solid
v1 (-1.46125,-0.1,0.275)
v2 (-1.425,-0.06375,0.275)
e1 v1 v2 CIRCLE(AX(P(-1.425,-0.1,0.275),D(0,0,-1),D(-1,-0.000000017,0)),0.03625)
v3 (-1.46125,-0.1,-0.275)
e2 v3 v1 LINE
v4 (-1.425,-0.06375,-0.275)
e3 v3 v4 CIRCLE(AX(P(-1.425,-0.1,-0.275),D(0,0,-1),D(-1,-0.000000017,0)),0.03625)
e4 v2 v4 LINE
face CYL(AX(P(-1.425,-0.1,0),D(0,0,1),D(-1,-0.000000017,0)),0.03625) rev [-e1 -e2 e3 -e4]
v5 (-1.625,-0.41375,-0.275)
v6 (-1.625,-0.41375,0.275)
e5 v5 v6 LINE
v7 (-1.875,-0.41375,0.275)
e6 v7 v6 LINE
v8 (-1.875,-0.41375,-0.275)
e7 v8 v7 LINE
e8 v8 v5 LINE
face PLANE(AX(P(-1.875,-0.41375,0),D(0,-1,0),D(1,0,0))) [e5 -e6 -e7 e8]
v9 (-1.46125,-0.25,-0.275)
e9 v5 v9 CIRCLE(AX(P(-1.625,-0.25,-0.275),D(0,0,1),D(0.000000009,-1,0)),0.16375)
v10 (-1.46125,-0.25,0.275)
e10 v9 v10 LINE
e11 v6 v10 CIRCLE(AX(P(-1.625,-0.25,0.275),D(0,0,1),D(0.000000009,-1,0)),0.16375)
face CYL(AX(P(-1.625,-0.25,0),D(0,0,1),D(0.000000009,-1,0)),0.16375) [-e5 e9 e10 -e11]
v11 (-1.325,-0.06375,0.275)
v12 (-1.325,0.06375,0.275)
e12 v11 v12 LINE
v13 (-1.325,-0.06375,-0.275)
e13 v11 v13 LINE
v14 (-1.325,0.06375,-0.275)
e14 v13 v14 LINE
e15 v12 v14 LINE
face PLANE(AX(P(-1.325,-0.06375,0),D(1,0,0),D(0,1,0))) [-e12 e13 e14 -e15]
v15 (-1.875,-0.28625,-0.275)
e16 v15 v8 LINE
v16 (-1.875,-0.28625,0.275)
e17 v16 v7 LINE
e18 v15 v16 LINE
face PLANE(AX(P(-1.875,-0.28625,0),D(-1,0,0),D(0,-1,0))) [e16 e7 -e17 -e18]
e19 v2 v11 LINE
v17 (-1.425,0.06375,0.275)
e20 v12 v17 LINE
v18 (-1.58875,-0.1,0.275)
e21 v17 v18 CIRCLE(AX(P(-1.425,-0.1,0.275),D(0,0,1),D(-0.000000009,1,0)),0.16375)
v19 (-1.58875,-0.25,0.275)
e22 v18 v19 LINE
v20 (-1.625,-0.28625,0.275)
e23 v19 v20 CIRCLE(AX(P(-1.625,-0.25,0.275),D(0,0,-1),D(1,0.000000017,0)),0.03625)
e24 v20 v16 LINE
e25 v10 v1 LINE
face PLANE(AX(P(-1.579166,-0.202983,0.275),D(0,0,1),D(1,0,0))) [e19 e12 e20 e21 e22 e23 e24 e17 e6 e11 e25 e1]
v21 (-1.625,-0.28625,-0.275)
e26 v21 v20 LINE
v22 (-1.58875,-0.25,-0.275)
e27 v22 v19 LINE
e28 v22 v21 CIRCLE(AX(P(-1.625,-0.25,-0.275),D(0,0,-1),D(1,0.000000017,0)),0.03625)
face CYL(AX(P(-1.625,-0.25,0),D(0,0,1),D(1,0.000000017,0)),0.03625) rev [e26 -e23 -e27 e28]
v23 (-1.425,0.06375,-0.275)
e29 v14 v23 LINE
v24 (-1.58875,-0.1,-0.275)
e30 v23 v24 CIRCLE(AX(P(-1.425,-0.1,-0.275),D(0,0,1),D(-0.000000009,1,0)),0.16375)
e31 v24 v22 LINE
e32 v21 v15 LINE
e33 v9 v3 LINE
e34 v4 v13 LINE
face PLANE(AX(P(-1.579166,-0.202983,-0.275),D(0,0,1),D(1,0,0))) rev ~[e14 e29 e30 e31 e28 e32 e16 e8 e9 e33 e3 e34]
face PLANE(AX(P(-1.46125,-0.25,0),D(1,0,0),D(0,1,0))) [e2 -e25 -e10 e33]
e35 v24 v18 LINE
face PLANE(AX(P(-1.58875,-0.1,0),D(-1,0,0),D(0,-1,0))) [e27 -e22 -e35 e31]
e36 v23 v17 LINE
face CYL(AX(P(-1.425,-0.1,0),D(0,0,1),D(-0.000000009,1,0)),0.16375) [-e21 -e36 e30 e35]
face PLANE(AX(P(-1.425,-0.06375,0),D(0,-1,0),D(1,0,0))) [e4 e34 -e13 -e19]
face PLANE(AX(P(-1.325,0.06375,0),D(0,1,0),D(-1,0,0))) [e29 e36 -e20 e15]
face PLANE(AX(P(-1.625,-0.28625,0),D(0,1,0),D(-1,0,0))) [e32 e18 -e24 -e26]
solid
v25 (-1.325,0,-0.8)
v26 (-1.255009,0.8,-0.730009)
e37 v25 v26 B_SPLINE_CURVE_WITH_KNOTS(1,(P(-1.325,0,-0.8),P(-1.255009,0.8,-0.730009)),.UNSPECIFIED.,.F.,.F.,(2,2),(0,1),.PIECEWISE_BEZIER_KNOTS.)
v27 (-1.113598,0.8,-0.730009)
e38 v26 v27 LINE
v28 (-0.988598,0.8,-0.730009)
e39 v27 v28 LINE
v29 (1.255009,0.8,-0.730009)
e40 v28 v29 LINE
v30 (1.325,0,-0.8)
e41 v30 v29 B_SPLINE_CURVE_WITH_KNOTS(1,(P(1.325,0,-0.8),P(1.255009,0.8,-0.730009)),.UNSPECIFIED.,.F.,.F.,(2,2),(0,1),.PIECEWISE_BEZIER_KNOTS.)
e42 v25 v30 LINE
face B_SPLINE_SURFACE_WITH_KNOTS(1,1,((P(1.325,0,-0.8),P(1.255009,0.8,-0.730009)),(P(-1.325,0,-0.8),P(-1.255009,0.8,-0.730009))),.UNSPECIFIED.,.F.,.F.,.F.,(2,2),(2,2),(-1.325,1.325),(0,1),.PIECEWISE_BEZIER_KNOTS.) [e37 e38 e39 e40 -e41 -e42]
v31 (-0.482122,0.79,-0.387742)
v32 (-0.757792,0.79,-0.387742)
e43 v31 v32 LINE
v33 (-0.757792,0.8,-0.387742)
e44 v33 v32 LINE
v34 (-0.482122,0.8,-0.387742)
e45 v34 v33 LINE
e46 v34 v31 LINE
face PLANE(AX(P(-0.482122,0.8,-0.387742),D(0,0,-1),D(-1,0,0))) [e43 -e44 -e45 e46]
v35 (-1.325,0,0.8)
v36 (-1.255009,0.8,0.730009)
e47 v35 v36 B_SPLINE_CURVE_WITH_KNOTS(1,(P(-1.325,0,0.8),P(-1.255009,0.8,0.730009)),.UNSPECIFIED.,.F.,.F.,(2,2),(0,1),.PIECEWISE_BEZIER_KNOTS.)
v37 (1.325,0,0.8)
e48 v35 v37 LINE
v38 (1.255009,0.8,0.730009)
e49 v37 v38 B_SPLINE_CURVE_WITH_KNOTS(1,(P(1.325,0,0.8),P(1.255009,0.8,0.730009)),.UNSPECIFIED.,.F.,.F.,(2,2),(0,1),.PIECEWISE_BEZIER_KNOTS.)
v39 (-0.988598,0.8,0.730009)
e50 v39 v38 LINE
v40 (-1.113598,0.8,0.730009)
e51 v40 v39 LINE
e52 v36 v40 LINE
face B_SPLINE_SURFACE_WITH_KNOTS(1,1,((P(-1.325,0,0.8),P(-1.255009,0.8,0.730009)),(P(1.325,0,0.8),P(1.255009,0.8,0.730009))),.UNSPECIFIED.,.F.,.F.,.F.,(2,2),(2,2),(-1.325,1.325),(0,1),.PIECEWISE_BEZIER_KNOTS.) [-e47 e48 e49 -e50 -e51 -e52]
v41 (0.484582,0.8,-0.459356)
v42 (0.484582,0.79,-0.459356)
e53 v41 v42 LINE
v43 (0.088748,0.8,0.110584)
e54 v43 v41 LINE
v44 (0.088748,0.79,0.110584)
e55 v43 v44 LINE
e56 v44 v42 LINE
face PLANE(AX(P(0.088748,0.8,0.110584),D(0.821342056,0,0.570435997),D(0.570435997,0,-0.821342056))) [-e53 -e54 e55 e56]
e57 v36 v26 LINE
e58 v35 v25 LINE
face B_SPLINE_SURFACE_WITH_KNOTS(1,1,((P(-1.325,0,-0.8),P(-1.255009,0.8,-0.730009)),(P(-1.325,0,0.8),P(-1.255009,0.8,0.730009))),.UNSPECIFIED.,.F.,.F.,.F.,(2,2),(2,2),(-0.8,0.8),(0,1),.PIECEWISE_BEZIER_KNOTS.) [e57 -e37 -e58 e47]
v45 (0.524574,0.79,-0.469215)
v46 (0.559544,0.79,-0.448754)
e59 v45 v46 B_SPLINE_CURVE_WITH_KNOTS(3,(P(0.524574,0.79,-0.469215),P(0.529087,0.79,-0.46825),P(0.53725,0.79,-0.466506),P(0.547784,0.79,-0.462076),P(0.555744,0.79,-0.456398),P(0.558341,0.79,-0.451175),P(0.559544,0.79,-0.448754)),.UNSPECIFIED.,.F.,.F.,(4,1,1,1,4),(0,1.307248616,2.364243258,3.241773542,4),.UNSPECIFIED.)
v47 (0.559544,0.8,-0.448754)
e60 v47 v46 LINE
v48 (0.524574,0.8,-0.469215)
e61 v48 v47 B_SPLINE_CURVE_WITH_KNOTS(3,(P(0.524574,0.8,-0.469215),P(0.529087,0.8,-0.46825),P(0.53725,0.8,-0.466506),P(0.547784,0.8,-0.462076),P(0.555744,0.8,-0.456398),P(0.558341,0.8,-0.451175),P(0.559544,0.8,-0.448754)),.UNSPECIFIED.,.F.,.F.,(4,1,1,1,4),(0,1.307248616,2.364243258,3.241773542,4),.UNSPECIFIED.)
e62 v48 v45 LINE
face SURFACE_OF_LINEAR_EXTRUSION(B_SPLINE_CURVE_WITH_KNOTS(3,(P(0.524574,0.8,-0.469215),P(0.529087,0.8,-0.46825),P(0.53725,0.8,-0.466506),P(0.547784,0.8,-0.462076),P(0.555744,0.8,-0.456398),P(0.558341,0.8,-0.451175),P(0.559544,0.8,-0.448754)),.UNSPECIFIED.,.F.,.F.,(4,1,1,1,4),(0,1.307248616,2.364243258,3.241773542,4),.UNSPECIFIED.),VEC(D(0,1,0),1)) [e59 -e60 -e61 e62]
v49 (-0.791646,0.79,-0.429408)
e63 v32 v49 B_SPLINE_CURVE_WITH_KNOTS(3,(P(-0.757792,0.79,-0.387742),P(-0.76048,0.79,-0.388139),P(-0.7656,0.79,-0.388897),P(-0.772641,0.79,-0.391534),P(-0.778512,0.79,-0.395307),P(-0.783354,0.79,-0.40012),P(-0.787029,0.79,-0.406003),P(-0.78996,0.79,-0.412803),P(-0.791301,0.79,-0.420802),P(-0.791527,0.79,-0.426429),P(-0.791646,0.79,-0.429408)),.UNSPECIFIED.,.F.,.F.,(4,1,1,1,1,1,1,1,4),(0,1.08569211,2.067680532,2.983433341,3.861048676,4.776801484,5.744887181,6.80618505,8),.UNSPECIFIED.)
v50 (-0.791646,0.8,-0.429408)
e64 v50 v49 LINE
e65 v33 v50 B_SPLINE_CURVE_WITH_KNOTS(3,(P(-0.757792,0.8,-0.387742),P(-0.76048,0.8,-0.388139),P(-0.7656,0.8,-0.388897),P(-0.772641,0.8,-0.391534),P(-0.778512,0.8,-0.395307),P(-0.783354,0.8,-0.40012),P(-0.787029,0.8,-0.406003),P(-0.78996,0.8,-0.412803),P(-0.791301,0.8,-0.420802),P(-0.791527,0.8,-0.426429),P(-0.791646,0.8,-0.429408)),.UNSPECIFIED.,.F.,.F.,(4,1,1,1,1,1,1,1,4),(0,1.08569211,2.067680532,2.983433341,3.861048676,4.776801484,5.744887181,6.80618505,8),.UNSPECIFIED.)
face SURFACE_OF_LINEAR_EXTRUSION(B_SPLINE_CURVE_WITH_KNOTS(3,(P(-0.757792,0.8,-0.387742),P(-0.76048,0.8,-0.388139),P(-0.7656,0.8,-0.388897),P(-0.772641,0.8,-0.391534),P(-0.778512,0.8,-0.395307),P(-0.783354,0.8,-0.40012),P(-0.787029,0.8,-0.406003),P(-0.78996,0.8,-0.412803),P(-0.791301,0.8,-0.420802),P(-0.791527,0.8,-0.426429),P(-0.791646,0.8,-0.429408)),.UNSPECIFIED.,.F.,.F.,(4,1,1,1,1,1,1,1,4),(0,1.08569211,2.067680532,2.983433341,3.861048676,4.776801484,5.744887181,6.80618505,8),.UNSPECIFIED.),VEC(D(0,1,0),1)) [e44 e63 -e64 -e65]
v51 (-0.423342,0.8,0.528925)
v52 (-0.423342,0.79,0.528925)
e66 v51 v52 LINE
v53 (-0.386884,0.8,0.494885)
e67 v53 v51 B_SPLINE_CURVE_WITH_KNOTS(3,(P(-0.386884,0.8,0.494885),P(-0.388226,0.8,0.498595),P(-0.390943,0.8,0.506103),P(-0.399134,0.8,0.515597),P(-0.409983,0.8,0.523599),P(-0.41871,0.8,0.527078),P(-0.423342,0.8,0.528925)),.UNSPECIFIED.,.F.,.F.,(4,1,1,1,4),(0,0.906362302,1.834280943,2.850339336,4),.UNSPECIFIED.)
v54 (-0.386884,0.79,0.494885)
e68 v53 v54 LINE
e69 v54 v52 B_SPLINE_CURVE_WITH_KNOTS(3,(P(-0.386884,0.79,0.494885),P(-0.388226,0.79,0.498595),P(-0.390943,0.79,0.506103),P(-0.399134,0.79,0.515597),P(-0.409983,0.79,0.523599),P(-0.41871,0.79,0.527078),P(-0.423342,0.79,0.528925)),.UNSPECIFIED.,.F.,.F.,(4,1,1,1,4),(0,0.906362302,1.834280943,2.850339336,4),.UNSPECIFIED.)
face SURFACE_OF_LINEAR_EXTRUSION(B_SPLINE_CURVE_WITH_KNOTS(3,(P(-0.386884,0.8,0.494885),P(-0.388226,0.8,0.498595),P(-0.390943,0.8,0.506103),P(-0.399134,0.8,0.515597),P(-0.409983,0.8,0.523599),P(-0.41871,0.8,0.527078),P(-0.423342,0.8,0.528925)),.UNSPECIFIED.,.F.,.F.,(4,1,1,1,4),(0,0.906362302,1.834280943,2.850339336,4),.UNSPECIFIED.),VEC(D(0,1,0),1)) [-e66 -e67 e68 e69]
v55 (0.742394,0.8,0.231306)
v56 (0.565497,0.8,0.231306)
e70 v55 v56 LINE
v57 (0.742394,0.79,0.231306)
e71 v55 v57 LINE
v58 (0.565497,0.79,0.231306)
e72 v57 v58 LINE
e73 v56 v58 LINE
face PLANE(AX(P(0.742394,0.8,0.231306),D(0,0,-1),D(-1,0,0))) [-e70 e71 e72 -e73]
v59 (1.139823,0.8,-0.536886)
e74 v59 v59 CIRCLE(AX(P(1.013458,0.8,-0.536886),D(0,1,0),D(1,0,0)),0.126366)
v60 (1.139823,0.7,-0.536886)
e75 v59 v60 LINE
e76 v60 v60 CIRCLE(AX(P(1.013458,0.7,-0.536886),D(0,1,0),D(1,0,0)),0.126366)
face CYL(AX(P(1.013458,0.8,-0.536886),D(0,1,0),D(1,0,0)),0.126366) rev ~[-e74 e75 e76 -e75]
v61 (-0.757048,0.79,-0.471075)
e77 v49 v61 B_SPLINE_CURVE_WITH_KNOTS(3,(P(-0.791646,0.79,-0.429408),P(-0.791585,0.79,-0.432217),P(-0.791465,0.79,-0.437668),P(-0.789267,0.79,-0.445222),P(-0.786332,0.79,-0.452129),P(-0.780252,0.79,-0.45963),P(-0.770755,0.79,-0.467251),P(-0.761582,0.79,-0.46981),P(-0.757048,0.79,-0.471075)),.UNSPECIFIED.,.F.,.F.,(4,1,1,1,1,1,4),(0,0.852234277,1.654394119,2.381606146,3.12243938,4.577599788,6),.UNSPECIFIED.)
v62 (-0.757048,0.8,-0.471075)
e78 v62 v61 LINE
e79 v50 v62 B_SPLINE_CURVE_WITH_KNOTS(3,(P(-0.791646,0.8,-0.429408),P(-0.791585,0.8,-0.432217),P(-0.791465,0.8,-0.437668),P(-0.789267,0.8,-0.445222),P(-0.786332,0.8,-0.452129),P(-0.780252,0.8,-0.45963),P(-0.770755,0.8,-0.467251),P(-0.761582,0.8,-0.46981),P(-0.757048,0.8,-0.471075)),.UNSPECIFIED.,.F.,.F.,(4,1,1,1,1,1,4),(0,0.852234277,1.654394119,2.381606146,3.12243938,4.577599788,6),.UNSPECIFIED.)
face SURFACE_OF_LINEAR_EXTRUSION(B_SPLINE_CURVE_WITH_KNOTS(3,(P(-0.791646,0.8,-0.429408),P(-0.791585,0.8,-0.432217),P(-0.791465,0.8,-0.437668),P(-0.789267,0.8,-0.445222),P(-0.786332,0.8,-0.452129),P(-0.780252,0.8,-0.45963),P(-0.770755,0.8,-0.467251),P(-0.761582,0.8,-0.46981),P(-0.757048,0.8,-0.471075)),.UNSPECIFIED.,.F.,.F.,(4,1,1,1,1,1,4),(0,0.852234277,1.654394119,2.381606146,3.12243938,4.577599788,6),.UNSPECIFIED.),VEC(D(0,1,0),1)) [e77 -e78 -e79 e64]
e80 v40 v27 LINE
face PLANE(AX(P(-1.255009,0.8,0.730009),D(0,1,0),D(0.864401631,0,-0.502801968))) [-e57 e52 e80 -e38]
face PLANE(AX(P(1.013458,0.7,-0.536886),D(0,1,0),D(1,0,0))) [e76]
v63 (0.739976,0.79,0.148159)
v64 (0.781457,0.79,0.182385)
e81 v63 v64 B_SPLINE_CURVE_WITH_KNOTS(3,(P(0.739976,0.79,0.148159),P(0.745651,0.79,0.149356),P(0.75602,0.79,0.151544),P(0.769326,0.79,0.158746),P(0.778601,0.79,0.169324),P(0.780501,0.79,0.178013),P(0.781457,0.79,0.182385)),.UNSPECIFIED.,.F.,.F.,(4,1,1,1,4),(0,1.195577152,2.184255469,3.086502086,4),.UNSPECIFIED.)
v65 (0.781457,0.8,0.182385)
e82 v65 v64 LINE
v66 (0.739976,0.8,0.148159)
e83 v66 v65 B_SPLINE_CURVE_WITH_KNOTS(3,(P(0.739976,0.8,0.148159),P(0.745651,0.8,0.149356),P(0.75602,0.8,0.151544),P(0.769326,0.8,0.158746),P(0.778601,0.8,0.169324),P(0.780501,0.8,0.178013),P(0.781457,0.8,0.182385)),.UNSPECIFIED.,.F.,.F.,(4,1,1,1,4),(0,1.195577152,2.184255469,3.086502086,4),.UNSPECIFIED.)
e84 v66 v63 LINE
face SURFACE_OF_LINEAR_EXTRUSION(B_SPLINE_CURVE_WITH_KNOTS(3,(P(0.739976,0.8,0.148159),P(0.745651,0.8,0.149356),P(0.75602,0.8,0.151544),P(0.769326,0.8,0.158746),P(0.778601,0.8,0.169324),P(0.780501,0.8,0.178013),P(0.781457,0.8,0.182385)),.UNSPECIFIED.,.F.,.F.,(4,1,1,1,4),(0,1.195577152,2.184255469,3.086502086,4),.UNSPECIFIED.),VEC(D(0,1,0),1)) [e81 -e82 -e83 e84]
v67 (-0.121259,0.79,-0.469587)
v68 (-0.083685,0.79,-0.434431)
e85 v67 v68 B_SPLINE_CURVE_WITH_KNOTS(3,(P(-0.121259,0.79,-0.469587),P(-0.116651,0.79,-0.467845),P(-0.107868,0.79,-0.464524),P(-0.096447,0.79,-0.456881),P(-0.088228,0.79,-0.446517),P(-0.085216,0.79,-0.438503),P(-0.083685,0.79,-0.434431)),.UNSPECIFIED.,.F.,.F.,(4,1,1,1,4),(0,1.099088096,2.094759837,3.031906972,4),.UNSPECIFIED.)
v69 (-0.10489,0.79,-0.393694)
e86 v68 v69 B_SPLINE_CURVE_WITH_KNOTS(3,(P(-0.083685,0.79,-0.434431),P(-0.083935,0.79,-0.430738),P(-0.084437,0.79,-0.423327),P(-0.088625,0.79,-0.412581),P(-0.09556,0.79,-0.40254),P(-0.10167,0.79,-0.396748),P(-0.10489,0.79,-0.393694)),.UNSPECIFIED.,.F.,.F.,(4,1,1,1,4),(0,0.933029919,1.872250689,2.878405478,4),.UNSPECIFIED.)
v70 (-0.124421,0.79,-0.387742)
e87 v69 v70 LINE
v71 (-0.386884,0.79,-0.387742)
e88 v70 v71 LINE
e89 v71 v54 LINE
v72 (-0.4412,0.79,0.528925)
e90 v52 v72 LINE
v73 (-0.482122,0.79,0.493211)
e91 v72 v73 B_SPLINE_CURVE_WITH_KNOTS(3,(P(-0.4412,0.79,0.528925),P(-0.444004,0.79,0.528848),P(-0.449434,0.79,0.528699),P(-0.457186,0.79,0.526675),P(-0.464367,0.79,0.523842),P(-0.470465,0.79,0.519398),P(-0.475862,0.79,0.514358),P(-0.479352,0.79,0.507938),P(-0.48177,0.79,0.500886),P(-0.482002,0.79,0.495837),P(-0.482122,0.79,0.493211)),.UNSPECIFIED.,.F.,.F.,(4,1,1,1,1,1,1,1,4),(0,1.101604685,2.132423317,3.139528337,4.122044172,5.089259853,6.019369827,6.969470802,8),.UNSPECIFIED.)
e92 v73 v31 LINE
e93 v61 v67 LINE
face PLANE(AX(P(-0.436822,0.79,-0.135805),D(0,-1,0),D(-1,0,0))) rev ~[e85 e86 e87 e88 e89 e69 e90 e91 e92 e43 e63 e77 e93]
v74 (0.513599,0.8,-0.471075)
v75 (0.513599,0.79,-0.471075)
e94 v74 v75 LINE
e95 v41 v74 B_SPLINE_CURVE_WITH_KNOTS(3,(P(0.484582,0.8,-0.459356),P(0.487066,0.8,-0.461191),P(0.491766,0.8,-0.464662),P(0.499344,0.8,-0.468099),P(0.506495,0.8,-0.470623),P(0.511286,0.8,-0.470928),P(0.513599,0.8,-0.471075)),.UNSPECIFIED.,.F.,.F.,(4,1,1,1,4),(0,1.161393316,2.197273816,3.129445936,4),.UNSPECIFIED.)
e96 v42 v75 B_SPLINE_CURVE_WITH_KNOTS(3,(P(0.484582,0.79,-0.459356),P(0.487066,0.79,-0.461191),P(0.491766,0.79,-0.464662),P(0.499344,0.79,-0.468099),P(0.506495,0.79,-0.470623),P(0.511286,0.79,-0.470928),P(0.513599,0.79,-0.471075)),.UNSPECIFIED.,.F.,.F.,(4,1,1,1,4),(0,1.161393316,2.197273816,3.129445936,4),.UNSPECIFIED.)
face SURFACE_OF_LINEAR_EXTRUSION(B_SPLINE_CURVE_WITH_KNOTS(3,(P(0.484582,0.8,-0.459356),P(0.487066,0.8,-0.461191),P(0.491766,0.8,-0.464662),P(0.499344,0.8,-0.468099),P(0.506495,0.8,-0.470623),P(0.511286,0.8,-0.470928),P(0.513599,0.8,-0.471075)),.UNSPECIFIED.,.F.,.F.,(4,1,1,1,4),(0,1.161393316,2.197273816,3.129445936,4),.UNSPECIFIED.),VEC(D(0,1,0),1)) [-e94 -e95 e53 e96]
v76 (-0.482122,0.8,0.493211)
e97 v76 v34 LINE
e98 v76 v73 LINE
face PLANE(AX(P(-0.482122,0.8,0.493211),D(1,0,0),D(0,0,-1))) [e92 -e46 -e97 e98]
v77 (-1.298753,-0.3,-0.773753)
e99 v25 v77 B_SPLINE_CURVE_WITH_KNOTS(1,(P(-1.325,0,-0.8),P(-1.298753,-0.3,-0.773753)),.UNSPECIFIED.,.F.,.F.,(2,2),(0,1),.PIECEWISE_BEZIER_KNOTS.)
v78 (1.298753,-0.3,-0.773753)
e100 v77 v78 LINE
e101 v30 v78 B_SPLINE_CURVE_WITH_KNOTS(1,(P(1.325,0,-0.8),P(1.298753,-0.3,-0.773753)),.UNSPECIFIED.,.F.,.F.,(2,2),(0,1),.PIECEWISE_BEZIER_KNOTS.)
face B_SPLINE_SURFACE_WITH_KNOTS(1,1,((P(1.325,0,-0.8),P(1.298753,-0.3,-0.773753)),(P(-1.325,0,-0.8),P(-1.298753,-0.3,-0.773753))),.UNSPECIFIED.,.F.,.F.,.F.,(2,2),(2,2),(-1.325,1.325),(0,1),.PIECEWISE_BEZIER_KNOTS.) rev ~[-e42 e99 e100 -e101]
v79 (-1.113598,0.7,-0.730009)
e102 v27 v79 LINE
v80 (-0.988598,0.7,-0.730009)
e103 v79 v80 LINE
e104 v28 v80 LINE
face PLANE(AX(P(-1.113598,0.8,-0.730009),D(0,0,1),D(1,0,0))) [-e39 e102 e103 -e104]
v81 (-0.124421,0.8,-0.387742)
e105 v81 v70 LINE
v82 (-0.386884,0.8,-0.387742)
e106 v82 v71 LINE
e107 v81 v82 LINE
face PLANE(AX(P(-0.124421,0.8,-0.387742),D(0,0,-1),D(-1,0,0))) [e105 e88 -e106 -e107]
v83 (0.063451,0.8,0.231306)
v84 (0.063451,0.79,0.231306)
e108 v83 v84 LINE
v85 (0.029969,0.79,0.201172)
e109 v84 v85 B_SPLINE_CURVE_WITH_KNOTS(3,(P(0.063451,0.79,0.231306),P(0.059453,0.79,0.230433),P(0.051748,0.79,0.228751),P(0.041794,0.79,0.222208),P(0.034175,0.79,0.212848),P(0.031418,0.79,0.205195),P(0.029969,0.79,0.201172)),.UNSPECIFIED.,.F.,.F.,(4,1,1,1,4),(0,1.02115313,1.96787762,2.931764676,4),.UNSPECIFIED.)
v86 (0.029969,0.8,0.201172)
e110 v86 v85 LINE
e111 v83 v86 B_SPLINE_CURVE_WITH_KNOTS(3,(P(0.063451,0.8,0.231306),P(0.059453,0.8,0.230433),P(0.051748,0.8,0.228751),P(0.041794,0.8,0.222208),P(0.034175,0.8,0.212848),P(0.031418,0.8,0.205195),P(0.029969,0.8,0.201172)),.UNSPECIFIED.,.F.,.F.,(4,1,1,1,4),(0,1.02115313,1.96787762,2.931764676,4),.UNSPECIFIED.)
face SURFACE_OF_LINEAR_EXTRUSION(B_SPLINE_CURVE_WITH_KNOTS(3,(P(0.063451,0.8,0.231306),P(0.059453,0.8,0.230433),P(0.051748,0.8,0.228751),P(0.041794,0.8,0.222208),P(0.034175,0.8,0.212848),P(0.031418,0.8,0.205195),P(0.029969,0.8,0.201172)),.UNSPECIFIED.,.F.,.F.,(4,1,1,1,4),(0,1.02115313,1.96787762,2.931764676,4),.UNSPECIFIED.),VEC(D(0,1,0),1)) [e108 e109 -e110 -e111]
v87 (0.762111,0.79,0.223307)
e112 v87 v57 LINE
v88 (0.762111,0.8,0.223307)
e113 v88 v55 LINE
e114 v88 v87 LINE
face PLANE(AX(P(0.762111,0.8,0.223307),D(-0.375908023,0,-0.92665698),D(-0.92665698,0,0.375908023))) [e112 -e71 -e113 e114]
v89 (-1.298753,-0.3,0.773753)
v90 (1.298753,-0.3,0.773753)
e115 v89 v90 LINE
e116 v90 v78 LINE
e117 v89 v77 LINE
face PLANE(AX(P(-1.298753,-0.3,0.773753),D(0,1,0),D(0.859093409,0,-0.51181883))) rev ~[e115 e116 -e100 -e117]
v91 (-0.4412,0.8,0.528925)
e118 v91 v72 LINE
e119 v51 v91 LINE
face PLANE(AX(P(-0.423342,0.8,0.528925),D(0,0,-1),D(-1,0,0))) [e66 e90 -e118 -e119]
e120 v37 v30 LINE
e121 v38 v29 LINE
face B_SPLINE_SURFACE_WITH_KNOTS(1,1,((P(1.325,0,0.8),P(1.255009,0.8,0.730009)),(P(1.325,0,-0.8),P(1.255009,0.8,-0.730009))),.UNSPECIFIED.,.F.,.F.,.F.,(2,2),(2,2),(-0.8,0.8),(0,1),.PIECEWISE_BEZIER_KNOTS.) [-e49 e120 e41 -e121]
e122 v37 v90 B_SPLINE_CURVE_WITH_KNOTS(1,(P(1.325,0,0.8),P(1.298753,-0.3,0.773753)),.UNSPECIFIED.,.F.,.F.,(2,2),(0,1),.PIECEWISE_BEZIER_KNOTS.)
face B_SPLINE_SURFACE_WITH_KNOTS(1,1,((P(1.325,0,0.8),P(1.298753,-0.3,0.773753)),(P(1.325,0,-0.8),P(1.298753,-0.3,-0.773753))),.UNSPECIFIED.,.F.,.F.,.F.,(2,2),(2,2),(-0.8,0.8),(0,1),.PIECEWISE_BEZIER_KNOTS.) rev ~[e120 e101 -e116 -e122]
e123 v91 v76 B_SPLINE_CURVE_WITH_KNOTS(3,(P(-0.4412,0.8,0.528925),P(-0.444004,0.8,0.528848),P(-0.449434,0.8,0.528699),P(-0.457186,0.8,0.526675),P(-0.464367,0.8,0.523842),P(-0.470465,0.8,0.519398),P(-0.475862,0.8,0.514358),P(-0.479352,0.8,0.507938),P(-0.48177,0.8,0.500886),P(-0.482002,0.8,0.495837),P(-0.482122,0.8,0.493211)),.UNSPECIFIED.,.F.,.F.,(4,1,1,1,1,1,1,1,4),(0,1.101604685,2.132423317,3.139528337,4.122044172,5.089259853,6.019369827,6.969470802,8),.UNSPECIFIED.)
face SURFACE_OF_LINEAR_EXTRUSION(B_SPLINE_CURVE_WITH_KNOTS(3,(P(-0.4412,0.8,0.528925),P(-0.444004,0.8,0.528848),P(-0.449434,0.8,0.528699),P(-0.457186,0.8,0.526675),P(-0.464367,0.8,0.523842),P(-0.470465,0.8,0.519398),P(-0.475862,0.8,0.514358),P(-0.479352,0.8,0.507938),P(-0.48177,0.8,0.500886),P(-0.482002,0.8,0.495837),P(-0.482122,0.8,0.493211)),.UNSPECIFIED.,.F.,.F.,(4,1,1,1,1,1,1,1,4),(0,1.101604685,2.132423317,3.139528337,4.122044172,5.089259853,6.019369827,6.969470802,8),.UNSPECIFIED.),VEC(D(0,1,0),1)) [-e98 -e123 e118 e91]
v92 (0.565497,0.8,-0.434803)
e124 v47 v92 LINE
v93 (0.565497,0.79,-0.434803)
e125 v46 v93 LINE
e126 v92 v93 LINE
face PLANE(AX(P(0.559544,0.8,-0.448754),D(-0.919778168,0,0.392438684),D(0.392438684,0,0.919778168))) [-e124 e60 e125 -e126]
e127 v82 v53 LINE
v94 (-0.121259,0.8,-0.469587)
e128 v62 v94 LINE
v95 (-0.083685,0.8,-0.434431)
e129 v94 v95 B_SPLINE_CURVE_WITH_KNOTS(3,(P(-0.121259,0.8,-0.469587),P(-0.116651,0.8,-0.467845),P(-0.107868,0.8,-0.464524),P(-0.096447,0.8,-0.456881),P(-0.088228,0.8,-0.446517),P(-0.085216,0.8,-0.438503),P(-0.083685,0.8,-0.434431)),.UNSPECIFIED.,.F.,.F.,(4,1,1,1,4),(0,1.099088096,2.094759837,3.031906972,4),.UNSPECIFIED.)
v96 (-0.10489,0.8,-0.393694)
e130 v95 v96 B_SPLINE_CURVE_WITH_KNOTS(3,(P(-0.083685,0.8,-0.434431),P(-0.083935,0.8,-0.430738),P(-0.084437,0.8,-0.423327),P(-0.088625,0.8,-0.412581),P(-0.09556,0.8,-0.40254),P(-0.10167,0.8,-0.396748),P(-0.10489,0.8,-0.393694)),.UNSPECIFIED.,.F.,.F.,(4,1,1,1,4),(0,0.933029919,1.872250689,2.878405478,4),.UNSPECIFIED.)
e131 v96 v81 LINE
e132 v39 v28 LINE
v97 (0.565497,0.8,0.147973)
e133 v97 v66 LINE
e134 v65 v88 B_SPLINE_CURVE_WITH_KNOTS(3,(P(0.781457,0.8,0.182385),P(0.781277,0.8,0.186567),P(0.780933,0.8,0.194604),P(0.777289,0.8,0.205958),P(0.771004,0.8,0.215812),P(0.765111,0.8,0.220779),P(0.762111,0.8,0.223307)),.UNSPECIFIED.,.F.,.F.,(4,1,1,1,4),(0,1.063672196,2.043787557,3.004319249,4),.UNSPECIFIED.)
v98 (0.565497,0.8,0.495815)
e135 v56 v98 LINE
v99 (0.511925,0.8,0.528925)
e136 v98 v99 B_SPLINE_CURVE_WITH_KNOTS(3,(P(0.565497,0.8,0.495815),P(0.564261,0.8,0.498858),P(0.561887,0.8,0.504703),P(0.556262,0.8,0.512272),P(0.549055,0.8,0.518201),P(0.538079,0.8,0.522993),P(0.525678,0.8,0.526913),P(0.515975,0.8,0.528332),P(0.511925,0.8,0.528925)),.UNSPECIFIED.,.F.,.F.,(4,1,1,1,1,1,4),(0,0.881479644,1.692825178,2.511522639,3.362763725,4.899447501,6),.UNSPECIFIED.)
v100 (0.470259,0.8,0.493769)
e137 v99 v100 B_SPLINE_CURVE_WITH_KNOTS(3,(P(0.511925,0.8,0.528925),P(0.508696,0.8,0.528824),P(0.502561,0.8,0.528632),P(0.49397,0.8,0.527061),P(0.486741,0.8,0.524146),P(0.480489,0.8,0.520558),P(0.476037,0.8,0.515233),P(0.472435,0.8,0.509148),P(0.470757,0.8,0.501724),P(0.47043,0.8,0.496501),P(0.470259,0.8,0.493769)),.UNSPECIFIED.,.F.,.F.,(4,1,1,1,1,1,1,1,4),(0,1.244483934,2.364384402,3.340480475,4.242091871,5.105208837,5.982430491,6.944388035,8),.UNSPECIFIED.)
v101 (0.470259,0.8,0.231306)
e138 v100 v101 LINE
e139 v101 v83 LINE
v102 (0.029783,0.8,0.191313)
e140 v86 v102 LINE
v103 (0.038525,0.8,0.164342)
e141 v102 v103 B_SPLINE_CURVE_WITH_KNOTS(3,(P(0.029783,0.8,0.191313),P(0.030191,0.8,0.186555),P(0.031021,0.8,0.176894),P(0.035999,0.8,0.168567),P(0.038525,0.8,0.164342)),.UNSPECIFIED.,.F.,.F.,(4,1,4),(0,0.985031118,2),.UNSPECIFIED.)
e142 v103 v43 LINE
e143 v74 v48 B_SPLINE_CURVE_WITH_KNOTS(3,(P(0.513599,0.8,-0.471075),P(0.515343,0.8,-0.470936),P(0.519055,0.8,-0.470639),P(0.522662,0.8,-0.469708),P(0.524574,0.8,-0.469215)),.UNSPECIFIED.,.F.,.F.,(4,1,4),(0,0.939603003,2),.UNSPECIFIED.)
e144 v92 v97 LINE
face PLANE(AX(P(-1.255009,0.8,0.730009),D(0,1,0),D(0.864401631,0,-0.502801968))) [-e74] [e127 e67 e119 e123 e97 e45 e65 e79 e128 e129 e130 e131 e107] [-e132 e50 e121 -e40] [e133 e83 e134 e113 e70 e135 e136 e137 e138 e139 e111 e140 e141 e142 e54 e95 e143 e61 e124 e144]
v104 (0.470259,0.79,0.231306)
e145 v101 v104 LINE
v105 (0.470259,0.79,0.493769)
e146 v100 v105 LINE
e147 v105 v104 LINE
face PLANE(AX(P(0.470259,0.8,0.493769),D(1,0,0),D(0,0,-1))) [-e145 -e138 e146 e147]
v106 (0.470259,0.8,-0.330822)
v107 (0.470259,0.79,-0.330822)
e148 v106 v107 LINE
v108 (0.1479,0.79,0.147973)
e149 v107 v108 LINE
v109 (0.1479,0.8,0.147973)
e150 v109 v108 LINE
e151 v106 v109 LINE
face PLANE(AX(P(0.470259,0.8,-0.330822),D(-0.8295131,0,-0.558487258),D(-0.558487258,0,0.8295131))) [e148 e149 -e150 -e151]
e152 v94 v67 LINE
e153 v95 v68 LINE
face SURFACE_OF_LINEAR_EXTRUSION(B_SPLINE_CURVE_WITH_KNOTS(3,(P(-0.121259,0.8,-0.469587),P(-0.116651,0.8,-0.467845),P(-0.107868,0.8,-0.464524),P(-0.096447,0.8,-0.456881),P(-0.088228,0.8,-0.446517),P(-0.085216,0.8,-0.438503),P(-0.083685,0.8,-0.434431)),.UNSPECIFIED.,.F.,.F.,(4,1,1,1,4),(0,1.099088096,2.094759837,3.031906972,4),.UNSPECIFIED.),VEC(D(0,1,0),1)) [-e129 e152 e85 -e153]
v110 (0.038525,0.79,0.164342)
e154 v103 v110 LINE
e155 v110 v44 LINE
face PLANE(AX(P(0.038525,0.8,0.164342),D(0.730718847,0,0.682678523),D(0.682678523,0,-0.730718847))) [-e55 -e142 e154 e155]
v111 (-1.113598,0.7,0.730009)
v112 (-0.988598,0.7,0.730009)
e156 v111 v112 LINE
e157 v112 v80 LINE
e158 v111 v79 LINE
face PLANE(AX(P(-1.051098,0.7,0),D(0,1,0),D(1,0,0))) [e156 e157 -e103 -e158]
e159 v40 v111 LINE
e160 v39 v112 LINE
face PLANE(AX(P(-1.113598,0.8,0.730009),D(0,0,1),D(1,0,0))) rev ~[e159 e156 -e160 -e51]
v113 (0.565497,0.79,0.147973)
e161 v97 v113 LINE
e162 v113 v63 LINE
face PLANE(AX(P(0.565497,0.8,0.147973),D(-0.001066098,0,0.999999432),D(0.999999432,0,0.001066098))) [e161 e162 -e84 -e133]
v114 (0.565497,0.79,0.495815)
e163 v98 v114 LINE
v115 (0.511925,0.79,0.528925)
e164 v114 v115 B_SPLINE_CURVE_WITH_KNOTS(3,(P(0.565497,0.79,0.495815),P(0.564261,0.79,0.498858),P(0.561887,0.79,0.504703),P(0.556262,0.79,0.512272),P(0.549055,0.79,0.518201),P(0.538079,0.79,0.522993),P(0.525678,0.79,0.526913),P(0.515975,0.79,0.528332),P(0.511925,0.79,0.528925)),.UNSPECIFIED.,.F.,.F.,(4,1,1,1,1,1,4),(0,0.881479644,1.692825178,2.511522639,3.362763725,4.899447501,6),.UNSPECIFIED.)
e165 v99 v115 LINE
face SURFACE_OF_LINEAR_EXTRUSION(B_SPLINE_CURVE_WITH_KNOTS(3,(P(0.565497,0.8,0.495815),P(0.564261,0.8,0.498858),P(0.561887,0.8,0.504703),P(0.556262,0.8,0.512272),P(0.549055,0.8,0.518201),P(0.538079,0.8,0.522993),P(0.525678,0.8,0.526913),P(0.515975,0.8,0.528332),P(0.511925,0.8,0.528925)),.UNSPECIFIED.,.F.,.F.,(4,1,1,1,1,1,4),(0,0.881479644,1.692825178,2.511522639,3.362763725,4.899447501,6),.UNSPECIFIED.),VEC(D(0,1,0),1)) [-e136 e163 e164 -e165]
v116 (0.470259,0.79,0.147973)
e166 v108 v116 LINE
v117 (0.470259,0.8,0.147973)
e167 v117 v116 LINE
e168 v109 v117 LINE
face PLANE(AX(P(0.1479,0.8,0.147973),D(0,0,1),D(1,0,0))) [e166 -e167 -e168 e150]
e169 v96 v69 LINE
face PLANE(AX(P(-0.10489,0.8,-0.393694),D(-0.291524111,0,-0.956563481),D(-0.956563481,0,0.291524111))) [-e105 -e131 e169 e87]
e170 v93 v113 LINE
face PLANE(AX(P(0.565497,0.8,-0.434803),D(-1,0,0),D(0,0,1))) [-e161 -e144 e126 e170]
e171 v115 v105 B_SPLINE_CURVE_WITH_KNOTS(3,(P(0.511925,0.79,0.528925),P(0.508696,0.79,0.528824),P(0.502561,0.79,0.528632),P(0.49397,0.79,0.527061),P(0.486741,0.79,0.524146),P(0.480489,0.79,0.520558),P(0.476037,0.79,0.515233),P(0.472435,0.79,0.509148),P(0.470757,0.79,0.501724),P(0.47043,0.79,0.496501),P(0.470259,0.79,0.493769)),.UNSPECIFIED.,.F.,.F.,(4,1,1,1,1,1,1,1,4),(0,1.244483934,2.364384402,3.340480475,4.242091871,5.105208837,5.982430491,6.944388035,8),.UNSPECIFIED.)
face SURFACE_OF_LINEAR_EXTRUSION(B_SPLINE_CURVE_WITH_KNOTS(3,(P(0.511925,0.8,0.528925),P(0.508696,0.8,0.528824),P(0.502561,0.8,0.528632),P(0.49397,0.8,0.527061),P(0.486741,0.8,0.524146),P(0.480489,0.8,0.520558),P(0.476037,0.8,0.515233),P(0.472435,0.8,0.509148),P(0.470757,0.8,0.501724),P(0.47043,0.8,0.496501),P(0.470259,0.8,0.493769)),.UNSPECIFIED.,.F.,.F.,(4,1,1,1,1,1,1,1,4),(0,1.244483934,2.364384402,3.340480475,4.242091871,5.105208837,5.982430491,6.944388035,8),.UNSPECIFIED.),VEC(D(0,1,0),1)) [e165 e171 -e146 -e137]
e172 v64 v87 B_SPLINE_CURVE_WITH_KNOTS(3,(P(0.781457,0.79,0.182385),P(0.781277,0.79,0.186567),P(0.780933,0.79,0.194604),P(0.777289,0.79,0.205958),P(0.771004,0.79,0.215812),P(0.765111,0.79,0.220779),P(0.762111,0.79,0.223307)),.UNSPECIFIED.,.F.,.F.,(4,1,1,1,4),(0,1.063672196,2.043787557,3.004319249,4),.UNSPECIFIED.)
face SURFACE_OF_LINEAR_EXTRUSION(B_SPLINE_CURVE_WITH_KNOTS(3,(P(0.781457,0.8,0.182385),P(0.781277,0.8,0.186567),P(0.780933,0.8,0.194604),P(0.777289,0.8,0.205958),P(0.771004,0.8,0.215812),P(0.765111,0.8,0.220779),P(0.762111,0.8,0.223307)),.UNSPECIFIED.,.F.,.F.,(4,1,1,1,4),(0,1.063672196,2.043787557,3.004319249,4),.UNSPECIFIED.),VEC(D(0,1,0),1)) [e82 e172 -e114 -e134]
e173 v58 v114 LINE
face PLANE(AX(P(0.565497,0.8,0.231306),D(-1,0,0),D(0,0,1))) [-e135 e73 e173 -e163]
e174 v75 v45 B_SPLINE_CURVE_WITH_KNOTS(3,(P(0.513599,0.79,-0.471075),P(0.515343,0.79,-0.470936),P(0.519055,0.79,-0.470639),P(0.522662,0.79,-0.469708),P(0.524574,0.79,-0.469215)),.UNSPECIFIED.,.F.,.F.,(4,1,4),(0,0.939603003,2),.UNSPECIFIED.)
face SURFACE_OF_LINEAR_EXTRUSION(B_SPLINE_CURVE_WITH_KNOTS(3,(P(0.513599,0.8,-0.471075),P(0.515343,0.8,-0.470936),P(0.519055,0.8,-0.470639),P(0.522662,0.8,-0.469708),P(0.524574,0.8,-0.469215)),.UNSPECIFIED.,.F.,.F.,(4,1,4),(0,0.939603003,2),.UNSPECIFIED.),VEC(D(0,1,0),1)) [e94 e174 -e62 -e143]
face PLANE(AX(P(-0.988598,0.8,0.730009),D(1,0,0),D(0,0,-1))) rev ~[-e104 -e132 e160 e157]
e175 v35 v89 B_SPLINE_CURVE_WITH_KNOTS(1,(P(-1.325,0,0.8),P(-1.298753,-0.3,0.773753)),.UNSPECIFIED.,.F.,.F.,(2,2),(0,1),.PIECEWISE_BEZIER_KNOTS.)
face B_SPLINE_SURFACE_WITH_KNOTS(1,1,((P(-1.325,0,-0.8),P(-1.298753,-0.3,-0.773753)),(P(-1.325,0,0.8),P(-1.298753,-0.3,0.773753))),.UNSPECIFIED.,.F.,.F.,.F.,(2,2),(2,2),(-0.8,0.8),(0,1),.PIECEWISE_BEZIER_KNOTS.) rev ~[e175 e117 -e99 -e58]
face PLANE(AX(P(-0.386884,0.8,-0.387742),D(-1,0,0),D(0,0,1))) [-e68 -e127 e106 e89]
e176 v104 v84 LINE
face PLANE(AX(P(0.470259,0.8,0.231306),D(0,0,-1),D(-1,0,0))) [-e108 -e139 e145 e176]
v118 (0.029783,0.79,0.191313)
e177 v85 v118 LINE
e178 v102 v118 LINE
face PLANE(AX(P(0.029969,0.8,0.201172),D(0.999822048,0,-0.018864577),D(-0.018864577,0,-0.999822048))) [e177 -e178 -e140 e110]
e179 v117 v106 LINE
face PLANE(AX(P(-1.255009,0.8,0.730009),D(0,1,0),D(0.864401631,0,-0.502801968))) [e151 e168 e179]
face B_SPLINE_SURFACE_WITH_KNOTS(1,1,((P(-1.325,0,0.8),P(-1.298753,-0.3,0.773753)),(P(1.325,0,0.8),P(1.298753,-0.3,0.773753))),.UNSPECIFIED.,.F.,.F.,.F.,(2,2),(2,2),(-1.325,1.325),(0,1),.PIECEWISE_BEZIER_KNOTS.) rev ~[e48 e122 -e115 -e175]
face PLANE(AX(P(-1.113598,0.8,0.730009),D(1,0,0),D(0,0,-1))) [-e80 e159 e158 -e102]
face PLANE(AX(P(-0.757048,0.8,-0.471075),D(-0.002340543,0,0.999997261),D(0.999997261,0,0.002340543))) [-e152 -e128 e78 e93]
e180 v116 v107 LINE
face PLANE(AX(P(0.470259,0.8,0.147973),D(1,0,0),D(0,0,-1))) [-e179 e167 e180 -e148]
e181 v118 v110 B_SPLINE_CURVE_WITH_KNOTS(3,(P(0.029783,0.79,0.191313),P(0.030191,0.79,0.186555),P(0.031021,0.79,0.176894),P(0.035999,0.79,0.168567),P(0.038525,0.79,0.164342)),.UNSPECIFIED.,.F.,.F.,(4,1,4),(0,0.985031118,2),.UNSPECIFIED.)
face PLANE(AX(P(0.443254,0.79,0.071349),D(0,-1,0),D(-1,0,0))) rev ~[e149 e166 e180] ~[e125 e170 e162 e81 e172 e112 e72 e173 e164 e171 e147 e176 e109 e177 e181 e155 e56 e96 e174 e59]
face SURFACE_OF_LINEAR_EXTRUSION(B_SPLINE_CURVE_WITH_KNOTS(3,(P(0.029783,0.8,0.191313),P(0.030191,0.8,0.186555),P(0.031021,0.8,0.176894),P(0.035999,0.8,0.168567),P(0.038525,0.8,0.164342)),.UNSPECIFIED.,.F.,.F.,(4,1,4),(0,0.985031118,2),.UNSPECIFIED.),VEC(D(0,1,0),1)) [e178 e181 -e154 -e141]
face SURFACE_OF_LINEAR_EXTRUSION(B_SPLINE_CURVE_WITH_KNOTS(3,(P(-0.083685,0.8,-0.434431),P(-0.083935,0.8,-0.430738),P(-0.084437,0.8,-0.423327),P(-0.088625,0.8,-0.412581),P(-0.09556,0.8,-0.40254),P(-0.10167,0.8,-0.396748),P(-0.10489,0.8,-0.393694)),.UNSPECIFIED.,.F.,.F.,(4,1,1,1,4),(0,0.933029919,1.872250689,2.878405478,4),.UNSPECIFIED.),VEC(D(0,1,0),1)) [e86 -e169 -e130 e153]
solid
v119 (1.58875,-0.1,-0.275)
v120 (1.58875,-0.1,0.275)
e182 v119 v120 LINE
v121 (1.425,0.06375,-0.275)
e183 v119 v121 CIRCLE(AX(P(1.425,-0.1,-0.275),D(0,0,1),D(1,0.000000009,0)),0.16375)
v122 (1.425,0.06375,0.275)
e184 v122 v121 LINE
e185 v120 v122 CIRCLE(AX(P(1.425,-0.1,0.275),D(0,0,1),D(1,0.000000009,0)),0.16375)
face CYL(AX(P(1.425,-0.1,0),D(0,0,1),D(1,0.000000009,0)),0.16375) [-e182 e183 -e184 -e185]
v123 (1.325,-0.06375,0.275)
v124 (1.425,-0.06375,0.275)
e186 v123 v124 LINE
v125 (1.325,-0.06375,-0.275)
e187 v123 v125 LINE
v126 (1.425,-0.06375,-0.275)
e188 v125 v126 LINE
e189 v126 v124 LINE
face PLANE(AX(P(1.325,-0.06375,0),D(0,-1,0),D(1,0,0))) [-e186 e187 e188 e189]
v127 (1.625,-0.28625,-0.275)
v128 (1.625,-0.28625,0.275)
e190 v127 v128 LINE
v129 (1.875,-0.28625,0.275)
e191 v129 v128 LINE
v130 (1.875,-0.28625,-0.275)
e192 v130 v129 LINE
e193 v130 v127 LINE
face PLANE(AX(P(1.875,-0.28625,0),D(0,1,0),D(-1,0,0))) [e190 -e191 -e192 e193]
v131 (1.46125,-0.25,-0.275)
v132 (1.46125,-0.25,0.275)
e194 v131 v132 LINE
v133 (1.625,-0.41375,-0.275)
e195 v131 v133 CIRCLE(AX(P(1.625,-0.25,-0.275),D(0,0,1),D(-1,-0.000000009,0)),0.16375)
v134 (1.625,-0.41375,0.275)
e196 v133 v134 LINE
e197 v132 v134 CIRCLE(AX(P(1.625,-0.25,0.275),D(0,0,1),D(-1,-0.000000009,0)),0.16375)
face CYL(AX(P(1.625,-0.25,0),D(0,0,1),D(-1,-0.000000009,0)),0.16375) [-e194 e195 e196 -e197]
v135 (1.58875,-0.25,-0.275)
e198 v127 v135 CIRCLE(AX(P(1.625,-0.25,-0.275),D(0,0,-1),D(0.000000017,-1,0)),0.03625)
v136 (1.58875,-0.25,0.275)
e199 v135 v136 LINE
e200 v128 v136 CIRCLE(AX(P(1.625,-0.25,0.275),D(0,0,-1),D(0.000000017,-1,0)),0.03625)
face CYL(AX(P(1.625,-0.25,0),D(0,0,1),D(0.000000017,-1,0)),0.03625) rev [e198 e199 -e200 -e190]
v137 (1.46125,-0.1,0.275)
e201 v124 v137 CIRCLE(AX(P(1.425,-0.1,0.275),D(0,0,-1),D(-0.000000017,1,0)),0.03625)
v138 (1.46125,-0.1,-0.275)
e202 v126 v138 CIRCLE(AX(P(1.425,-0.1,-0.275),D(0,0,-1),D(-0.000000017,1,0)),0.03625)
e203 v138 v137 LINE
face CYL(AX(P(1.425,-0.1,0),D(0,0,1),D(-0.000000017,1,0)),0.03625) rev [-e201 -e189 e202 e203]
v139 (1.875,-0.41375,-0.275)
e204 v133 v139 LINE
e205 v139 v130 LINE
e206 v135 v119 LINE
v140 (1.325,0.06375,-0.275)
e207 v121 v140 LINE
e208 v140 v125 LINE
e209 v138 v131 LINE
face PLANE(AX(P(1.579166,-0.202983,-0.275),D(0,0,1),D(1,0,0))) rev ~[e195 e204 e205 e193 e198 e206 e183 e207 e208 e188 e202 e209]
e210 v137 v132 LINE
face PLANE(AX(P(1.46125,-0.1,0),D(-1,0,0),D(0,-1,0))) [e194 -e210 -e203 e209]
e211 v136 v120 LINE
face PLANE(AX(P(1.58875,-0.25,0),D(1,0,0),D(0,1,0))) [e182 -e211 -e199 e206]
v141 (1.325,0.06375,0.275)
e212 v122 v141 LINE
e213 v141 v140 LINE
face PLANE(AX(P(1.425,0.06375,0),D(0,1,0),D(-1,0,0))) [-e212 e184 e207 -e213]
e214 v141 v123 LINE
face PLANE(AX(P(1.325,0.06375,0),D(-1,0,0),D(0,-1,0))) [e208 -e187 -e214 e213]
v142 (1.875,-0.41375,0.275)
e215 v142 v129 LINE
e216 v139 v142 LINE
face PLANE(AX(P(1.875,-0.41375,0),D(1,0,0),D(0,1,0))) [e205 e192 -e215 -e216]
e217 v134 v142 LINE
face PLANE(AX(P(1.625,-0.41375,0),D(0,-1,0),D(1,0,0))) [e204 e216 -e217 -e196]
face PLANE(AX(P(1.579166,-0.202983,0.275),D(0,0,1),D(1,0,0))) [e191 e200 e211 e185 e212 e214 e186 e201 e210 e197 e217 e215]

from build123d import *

# Parameters (mm, degrees)
SKETCH1_W                     = 2.65
SKETCH1_H                     = 1.6
BOSS_EXTRUDE1_DEPTH           = 0.8
BOSS_EXTRUDE1_TAPER           = 5
BOSS_EXTRUDE1_OTHER_WAY_DEPTH = 0.3
BOSS_EXTRUDE1_OTHER_WAY_TAPER = 5
EXTRUDE_THIN1_DEPTH           = 0.275
EXTRUDE_THIN1_2_DEPTH         = 0.275
CUT_EXTRUDE2_DEPTH            = 0.01
SKETCH5_R                     = 0.126365502
SKETCH5_R_2                   = 0.001365502
SKETCH5_W                     = 0.125
SKETCH5_H                     = 1.460018138
CUT_EXTRUDE_THIN1_DEPTH       = 0.1
CUT_EXTRUDE3_START            = 0.1
SKETCH6_R                     = 0.126365502
CUT_EXTRUDE3_DEPTH            = 0.1


with BuildPart() as part:
    # Sketch1 → Boss-Extrude1 (new body)
    with BuildSketch(Plane(origin=(0, 0, 0), x_dir=(1, 0, 0), z_dir=(0, 1, 0))):
        Rectangle(SKETCH1_W, SKETCH1_H)
    extrude(amount=BOSS_EXTRUDE1_DEPTH, taper=BOSS_EXTRUDE1_TAPER)

    # Sketch1 → Boss-Extrude1 other way (add)
    with BuildSketch(Plane(origin=(0, 0, 0), x_dir=(1, 0, 0), z_dir=(0, 1, 0))):
        Rectangle(SKETCH1_W, SKETCH1_H)
    extrude(amount=-BOSS_EXTRUDE1_OTHER_WAY_DEPTH, taper=BOSS_EXTRUDE1_OTHER_WAY_TAPER)

    # Sketch4 → Cut-Extrude2 (cut)
    # profile 1 of 2: a face of its own
    with BuildSketch(Plane(origin=(0, 0.8, 0), x_dir=(1, 0, 0), z_dir=(0, 1, 0))):
        with BuildLine():
            add(Edge.make_bspline(
                [(-0.121259144, 0.469586956), (-0.116651049, 0.467844685), (-0.107868449, 0.464524077), (-0.096447003, 0.45688116), (-0.088228357, 0.446516989), (-0.08521559, 0.438502857), (-0.083684739, 0.434430706)],
                knots=[0, 0, 0, 0, 1.099088096, 2.094759837, 3.031906972, 4, 4, 4, 4], degree=3))
            add(Edge.make_bspline(
                [(-0.083684739, 0.434430706), (-0.083934775, 0.43073761), (-0.084436505, 0.423326914), (-0.088624873, 0.412581115), (-0.095560362, 0.402540493), (-0.101669699, 0.396747659), (-0.104890096, 0.393694099)],
                knots=[0, 0, 0, 0, 0.933029919, 1.872250689, 2.878405478, 4, 4, 4, 4], degree=3))
            Line((-0.104890096, 0.393694099), (-0.124421346, 0.387741718))
            Line((-0.124421346, 0.387741718), (-0.386884144, 0.387741718))
            Line((-0.386884144, 0.387741718), (-0.386884144, -0.49488477))
            add(Edge.make_bspline(
                [(-0.386884144, -0.49488477), (-0.388226292, -0.49859483), (-0.390942509, -0.506103187), (-0.399133778, -0.515597253), (-0.40998304, -0.523599476), (-0.41870988, -0.527078256), (-0.423342477, -0.528924949)],
                knots=[0, 0, 0, 0, 0.906362302, 1.834280943, 2.850339336, 4, 4, 4, 4], degree=3))
            Line((-0.423342477, -0.528924949), (-0.44119962, -0.528924949))
            add(Edge.make_bspline(
                [(-0.44119962, -0.528924949), (-0.444004378, -0.528847963), (-0.449433668, -0.52869894), (-0.457185821, -0.526675103), (-0.464367422, -0.523841595), (-0.470465169, -0.519397714), (-0.475861843, -0.514357665), (-0.479352362, -0.507937944), (-0.481770348, -0.500885757), (-0.482001809, -0.495837361), (-0.482122239, -0.493210663)],
                knots=[0, 0, 0, 0, 1.101604685, 2.132423317, 3.139528337, 4.122044172, 5.089259853, 6.019369827, 6.969470802, 8, 8, 8, 8], degree=3))
            Line((-0.482122239, -0.493210663), (-0.482122239, 0.387741718))
            Line((-0.482122239, 0.387741718), (-0.757791882, 0.387741718))
            add(Edge.make_bspline(
                [(-0.757791882, 0.387741718), (-0.760480095, 0.388139413), (-0.765599748, 0.388896816), (-0.772640762, 0.391533578), (-0.778512088, 0.39530747), (-0.78335361, 0.400120388), (-0.787028717, 0.406002849), (-0.789960319, 0.412802663), (-0.791300872, 0.420801867), (-0.791526569, 0.426429317), (-0.791646049, 0.429408385)],
                knots=[0, 0, 0, 0, 1.08569211, 2.067680532, 2.983433341, 3.861048676, 4.776801484, 5.744887181, 6.80618505, 8, 8, 8, 8], degree=3))
            add(Edge.make_bspline(
                [(-0.791646049, 0.429408385), (-0.791584577, 0.432216594), (-0.791465245, 0.437668011), (-0.789266612, 0.445222233), (-0.786331556, 0.452128753), (-0.780251927, 0.459630268), (-0.770755063, 0.46725123), (-0.7615821, 0.469810155), (-0.757047834, 0.471075051)],
                knots=[0, 0, 0, 0, 0.852234277, 1.654394119, 2.381606146, 3.12243938, 4.577599788, 6, 6, 6, 6], degree=3))
            Line((-0.757047834, 0.471075051), (-0.121259144, 0.469586956))
        make_face()
    # profile 2 of 2: a face of its own
    with BuildSketch(Plane(origin=(0, 0.8, 0), x_dir=(1, 0, 0), z_dir=(0, 1, 0))):
        with BuildLine():
            Line((0.559544427, 0.448753623), (0.565496808, 0.43480273))
            Line((0.565496808, 0.43480273), (0.565496808, -0.147972568))
            Line((0.565496808, -0.147972568), (0.739975975, -0.14815858))
            add(Edge.make_bspline(
                [(0.739975975, -0.14815858), (0.745651472, -0.149356199), (0.756020301, -0.151544184), (0.769326, -0.158746004), (0.778601366, -0.169323965), (0.780500952, -0.178013221), (0.78145663, -0.18238477)],
                knots=[0, 0, 0, 0, 1.195577152, 2.184255469, 3.086502086, 4, 4, 4, 4], degree=3))
            add(Edge.make_bspline(
                [(0.78145663, -0.18238477), (0.781277252, -0.186567234), (0.780932587, -0.194603608), (0.777289425, -0.205957787), (0.771003906, -0.215812092), (0.765110859, -0.220779207), (0.762111392, -0.223307389)],
                knots=[0, 0, 0, 0, 1.063672196, 2.043787557, 3.004319249, 4, 4, 4, 4], degree=3))
            Line((0.762111392, -0.223307389), (0.74239413, -0.231305901))
            Line((0.74239413, -0.231305901), (0.565496808, -0.231305901))
            Line((0.565496808, -0.231305901), (0.565496808, -0.49581483))
            add(Edge.make_bspline(
                [(0.565496808, -0.49581483), (0.564260881, -0.498858107), (0.561887363, -0.504702527), (0.556262169, -0.51227222), (0.549055395, -0.518201234), (0.538078827, -0.522993434), (0.525678055, -0.526912801), (0.51597471, -0.528332493), (0.51192538, -0.528924949)],
                knots=[0, 0, 0, 0, 0.881479644, 1.692825178, 2.511522639, 3.362763725, 4.899447501, 6, 6, 6, 6], degree=3))
            add(Edge.make_bspline(
                [(0.51192538, -0.528924949), (0.508696109, -0.528823882), (0.502560844, -0.528631867), (0.493970227, -0.527060979), (0.486741308, -0.524145691), (0.480488563, -0.520558484), (0.47603653, -0.515232589), (0.472434762, -0.509147727), (0.470757032, -0.501724154), (0.470429882, -0.496501331), (0.470258713, -0.493768699)],
                knots=[0, 0, 0, 0, 1.244483934, 2.364384402, 3.340480475, 4.242091871, 5.105208837, 5.982430491, 6.944388035, 8, 8, 8, 8], degree=3))
            Line((0.470258713, -0.493768699), (0.470258713, -0.231305901))
            Line((0.470258713, -0.231305901), (0.063450677, -0.231305901))
            add(Edge.make_bspline(
                [(0.063450677, -0.231305901), (0.059452511, -0.230433032), (0.051747591, -0.228750916), (0.041794395, -0.222208098), (0.034174741, -0.212848085), (0.031417793, -0.205195004), (0.029968535, -0.201171972)],
                knots=[0, 0, 0, 0, 1.02115313, 1.96787762, 2.931764676, 4, 4, 4, 4], degree=3))
            Line((0.029968535, -0.201171972), (0.029782523, -0.191313341))
            add(Edge.make_bspline(
                [(0.029782523, -0.191313341), (0.030191147, -0.186555173), (0.031020816, -0.176894221), (0.035998822, -0.168567365), (0.038525082, -0.164341615)],
                knots=[0, 0, 0, 0, 0.985031118, 2, 2, 2, 2], degree=3))
            Line((0.038525082, -0.164341615), (0.088748297, -0.110584175))
            Line((0.088748297, -0.110584175), (0.48458163, 0.459356301))
            add(Edge.make_bspline(
                [(0.48458163, 0.459356301), (0.48706602, 0.461190918), (0.491766311, 0.464661884), (0.499344208, 0.468098846), (0.506495116, 0.470623481), (0.511285948, 0.470927998), (0.513599487, 0.471075051)],
                knots=[0, 0, 0, 0, 1.161393316, 2.197273816, 3.129445936, 4, 4, 4, 4], degree=3))
            add(Edge.make_bspline(
                [(0.513599487, 0.471075051), (0.515343337, 0.470935685), (0.519055223, 0.470639034), (0.522661923, 0.46970837), (0.524574189, 0.469214932)],
                knots=[0, 0, 0, 0, 0.939603003, 2, 2, 2, 2], degree=3))
            add(Edge.make_bspline(
                [(0.524574189, 0.469214932), (0.529087337, 0.468250248), (0.537249654, 0.466505554), (0.547784131, 0.462076394), (0.555743649, 0.456398213), (0.558340638, 0.45117483), (0.559544427, 0.448753623)],
                knots=[0, 0, 0, 0, 1.307248616, 2.364243258, 3.241773542, 4, 4, 4, 4], degree=3))
        make_face()
        Polygon((0.147900082, -0.147972568), (0.470258713, -0.147972568), (0.470258713, 0.330822075), align=None, mode=Mode.SUBTRACT)
    extrude(amount=-CUT_EXTRUDE2_DEPTH, mode=Mode.SUBTRACT)

    # Sketch5 → Cut-Extrude-Thin1 (cut)
    # profile 1 of 2: a face of its own
    with BuildSketch(Plane(origin=(0, 0.8, 0), x_dir=(1, 0, 0), z_dir=(0, 1, 0))):
        with Locations((1.013457904, 0.536885562)):
            Circle(SKETCH5_R)
        with Locations((1.013457904, 0.536885562)):
            Circle(SKETCH5_R_2, mode=Mode.SUBTRACT)
    # profile 2 of 2: a face of its own
    with BuildSketch(Plane(origin=(0, 0.8, 0), x_dir=(1, 0, 0), z_dir=(0, 1, 0))):
        with Locations((-1.051097793, 0)):
            Rectangle(SKETCH5_W, SKETCH5_H)
    extrude(amount=-CUT_EXTRUDE_THIN1_DEPTH, mode=Mode.SUBTRACT)

    # Sketch6 → Cut-Extrude3 (cut)
    with BuildSketch(Plane(origin=(0, 0.7, 0), x_dir=(1, 0, 0), z_dir=(0, 1, 0)).offset(CUT_EXTRUDE3_START)):
        with Locations((1.013457904, 0.536885562)):
            Circle(SKETCH6_R)
    extrude(amount=-CUT_EXTRUDE3_DEPTH, mode=Mode.SUBTRACT)


with BuildPart() as body_2:
    # Sketch3 → Extrude-Thin1 (new, symmetric)
    with BuildSketch(Plane.XY):
        with BuildLine():
            Line((-1.325, 0.06375), (-1.425, 0.06375))
            ThreePointArc((-1.425, 0.06375), (-1.540788735, 0.015788735), (-1.58875, -0.1))
            Line((-1.58875, -0.1), (-1.58875, -0.25))
            ThreePointArc((-1.58875, -0.25), (-1.599367379, -0.275632621), (-1.625, -0.28625))
            Line((-1.625, -0.28625), (-1.875, -0.28625))
            Line((-1.875, -0.28625), (-1.875, -0.41375))
            Line((-1.875, -0.41375), (-1.625, -0.41375))
            ThreePointArc((-1.625, -0.41375), (-1.509211265, -0.365788735), (-1.46125, -0.25))
            Line((-1.46125, -0.25), (-1.46125, -0.1))
            ThreePointArc((-1.46125, -0.1), (-1.450632621, -0.074367379), (-1.425, -0.06375))
            Line((-1.425, -0.06375), (-1.325, -0.06375))
            Line((-1.325, -0.06375), (-1.325, 0.06375))
        make_face()
    extrude(amount=EXTRUDE_THIN1_DEPTH, both=True)


with BuildPart() as body_3:
    # Sketch3 → Extrude-Thin1 2 (new, symmetric)
    with BuildSketch(Plane.XY):
        with BuildLine():
            Line((1.325, -0.06375), (1.425, -0.06375))
            ThreePointArc((1.425, -0.06375), (1.450632621, -0.074367379), (1.46125, -0.1))
            Line((1.46125, -0.1), (1.46125, -0.25))
            ThreePointArc((1.46125, -0.25), (1.509211265, -0.365788735), (1.625, -0.41375))
            Line((1.625, -0.41375), (1.875, -0.41375))
            Line((1.875, -0.41375), (1.875, -0.28625))
            Line((1.875, -0.28625), (1.625, -0.28625))
            ThreePointArc((1.625, -0.28625), (1.599367379, -0.275632621), (1.58875, -0.25))
            Line((1.58875, -0.25), (1.58875, -0.1))
            ThreePointArc((1.58875, -0.1), (1.540788735, 0.015788735), (1.425, 0.06375))
            Line((1.425, 0.06375), (1.325, 0.06375))
            Line((1.325, 0.06375), (1.325, -0.06375))
        make_face()
    extrude(amount=EXTRUDE_THIN1_2_DEPTH, both=True)


solid = Compound([part.part, body_2.part, body_3.part])
